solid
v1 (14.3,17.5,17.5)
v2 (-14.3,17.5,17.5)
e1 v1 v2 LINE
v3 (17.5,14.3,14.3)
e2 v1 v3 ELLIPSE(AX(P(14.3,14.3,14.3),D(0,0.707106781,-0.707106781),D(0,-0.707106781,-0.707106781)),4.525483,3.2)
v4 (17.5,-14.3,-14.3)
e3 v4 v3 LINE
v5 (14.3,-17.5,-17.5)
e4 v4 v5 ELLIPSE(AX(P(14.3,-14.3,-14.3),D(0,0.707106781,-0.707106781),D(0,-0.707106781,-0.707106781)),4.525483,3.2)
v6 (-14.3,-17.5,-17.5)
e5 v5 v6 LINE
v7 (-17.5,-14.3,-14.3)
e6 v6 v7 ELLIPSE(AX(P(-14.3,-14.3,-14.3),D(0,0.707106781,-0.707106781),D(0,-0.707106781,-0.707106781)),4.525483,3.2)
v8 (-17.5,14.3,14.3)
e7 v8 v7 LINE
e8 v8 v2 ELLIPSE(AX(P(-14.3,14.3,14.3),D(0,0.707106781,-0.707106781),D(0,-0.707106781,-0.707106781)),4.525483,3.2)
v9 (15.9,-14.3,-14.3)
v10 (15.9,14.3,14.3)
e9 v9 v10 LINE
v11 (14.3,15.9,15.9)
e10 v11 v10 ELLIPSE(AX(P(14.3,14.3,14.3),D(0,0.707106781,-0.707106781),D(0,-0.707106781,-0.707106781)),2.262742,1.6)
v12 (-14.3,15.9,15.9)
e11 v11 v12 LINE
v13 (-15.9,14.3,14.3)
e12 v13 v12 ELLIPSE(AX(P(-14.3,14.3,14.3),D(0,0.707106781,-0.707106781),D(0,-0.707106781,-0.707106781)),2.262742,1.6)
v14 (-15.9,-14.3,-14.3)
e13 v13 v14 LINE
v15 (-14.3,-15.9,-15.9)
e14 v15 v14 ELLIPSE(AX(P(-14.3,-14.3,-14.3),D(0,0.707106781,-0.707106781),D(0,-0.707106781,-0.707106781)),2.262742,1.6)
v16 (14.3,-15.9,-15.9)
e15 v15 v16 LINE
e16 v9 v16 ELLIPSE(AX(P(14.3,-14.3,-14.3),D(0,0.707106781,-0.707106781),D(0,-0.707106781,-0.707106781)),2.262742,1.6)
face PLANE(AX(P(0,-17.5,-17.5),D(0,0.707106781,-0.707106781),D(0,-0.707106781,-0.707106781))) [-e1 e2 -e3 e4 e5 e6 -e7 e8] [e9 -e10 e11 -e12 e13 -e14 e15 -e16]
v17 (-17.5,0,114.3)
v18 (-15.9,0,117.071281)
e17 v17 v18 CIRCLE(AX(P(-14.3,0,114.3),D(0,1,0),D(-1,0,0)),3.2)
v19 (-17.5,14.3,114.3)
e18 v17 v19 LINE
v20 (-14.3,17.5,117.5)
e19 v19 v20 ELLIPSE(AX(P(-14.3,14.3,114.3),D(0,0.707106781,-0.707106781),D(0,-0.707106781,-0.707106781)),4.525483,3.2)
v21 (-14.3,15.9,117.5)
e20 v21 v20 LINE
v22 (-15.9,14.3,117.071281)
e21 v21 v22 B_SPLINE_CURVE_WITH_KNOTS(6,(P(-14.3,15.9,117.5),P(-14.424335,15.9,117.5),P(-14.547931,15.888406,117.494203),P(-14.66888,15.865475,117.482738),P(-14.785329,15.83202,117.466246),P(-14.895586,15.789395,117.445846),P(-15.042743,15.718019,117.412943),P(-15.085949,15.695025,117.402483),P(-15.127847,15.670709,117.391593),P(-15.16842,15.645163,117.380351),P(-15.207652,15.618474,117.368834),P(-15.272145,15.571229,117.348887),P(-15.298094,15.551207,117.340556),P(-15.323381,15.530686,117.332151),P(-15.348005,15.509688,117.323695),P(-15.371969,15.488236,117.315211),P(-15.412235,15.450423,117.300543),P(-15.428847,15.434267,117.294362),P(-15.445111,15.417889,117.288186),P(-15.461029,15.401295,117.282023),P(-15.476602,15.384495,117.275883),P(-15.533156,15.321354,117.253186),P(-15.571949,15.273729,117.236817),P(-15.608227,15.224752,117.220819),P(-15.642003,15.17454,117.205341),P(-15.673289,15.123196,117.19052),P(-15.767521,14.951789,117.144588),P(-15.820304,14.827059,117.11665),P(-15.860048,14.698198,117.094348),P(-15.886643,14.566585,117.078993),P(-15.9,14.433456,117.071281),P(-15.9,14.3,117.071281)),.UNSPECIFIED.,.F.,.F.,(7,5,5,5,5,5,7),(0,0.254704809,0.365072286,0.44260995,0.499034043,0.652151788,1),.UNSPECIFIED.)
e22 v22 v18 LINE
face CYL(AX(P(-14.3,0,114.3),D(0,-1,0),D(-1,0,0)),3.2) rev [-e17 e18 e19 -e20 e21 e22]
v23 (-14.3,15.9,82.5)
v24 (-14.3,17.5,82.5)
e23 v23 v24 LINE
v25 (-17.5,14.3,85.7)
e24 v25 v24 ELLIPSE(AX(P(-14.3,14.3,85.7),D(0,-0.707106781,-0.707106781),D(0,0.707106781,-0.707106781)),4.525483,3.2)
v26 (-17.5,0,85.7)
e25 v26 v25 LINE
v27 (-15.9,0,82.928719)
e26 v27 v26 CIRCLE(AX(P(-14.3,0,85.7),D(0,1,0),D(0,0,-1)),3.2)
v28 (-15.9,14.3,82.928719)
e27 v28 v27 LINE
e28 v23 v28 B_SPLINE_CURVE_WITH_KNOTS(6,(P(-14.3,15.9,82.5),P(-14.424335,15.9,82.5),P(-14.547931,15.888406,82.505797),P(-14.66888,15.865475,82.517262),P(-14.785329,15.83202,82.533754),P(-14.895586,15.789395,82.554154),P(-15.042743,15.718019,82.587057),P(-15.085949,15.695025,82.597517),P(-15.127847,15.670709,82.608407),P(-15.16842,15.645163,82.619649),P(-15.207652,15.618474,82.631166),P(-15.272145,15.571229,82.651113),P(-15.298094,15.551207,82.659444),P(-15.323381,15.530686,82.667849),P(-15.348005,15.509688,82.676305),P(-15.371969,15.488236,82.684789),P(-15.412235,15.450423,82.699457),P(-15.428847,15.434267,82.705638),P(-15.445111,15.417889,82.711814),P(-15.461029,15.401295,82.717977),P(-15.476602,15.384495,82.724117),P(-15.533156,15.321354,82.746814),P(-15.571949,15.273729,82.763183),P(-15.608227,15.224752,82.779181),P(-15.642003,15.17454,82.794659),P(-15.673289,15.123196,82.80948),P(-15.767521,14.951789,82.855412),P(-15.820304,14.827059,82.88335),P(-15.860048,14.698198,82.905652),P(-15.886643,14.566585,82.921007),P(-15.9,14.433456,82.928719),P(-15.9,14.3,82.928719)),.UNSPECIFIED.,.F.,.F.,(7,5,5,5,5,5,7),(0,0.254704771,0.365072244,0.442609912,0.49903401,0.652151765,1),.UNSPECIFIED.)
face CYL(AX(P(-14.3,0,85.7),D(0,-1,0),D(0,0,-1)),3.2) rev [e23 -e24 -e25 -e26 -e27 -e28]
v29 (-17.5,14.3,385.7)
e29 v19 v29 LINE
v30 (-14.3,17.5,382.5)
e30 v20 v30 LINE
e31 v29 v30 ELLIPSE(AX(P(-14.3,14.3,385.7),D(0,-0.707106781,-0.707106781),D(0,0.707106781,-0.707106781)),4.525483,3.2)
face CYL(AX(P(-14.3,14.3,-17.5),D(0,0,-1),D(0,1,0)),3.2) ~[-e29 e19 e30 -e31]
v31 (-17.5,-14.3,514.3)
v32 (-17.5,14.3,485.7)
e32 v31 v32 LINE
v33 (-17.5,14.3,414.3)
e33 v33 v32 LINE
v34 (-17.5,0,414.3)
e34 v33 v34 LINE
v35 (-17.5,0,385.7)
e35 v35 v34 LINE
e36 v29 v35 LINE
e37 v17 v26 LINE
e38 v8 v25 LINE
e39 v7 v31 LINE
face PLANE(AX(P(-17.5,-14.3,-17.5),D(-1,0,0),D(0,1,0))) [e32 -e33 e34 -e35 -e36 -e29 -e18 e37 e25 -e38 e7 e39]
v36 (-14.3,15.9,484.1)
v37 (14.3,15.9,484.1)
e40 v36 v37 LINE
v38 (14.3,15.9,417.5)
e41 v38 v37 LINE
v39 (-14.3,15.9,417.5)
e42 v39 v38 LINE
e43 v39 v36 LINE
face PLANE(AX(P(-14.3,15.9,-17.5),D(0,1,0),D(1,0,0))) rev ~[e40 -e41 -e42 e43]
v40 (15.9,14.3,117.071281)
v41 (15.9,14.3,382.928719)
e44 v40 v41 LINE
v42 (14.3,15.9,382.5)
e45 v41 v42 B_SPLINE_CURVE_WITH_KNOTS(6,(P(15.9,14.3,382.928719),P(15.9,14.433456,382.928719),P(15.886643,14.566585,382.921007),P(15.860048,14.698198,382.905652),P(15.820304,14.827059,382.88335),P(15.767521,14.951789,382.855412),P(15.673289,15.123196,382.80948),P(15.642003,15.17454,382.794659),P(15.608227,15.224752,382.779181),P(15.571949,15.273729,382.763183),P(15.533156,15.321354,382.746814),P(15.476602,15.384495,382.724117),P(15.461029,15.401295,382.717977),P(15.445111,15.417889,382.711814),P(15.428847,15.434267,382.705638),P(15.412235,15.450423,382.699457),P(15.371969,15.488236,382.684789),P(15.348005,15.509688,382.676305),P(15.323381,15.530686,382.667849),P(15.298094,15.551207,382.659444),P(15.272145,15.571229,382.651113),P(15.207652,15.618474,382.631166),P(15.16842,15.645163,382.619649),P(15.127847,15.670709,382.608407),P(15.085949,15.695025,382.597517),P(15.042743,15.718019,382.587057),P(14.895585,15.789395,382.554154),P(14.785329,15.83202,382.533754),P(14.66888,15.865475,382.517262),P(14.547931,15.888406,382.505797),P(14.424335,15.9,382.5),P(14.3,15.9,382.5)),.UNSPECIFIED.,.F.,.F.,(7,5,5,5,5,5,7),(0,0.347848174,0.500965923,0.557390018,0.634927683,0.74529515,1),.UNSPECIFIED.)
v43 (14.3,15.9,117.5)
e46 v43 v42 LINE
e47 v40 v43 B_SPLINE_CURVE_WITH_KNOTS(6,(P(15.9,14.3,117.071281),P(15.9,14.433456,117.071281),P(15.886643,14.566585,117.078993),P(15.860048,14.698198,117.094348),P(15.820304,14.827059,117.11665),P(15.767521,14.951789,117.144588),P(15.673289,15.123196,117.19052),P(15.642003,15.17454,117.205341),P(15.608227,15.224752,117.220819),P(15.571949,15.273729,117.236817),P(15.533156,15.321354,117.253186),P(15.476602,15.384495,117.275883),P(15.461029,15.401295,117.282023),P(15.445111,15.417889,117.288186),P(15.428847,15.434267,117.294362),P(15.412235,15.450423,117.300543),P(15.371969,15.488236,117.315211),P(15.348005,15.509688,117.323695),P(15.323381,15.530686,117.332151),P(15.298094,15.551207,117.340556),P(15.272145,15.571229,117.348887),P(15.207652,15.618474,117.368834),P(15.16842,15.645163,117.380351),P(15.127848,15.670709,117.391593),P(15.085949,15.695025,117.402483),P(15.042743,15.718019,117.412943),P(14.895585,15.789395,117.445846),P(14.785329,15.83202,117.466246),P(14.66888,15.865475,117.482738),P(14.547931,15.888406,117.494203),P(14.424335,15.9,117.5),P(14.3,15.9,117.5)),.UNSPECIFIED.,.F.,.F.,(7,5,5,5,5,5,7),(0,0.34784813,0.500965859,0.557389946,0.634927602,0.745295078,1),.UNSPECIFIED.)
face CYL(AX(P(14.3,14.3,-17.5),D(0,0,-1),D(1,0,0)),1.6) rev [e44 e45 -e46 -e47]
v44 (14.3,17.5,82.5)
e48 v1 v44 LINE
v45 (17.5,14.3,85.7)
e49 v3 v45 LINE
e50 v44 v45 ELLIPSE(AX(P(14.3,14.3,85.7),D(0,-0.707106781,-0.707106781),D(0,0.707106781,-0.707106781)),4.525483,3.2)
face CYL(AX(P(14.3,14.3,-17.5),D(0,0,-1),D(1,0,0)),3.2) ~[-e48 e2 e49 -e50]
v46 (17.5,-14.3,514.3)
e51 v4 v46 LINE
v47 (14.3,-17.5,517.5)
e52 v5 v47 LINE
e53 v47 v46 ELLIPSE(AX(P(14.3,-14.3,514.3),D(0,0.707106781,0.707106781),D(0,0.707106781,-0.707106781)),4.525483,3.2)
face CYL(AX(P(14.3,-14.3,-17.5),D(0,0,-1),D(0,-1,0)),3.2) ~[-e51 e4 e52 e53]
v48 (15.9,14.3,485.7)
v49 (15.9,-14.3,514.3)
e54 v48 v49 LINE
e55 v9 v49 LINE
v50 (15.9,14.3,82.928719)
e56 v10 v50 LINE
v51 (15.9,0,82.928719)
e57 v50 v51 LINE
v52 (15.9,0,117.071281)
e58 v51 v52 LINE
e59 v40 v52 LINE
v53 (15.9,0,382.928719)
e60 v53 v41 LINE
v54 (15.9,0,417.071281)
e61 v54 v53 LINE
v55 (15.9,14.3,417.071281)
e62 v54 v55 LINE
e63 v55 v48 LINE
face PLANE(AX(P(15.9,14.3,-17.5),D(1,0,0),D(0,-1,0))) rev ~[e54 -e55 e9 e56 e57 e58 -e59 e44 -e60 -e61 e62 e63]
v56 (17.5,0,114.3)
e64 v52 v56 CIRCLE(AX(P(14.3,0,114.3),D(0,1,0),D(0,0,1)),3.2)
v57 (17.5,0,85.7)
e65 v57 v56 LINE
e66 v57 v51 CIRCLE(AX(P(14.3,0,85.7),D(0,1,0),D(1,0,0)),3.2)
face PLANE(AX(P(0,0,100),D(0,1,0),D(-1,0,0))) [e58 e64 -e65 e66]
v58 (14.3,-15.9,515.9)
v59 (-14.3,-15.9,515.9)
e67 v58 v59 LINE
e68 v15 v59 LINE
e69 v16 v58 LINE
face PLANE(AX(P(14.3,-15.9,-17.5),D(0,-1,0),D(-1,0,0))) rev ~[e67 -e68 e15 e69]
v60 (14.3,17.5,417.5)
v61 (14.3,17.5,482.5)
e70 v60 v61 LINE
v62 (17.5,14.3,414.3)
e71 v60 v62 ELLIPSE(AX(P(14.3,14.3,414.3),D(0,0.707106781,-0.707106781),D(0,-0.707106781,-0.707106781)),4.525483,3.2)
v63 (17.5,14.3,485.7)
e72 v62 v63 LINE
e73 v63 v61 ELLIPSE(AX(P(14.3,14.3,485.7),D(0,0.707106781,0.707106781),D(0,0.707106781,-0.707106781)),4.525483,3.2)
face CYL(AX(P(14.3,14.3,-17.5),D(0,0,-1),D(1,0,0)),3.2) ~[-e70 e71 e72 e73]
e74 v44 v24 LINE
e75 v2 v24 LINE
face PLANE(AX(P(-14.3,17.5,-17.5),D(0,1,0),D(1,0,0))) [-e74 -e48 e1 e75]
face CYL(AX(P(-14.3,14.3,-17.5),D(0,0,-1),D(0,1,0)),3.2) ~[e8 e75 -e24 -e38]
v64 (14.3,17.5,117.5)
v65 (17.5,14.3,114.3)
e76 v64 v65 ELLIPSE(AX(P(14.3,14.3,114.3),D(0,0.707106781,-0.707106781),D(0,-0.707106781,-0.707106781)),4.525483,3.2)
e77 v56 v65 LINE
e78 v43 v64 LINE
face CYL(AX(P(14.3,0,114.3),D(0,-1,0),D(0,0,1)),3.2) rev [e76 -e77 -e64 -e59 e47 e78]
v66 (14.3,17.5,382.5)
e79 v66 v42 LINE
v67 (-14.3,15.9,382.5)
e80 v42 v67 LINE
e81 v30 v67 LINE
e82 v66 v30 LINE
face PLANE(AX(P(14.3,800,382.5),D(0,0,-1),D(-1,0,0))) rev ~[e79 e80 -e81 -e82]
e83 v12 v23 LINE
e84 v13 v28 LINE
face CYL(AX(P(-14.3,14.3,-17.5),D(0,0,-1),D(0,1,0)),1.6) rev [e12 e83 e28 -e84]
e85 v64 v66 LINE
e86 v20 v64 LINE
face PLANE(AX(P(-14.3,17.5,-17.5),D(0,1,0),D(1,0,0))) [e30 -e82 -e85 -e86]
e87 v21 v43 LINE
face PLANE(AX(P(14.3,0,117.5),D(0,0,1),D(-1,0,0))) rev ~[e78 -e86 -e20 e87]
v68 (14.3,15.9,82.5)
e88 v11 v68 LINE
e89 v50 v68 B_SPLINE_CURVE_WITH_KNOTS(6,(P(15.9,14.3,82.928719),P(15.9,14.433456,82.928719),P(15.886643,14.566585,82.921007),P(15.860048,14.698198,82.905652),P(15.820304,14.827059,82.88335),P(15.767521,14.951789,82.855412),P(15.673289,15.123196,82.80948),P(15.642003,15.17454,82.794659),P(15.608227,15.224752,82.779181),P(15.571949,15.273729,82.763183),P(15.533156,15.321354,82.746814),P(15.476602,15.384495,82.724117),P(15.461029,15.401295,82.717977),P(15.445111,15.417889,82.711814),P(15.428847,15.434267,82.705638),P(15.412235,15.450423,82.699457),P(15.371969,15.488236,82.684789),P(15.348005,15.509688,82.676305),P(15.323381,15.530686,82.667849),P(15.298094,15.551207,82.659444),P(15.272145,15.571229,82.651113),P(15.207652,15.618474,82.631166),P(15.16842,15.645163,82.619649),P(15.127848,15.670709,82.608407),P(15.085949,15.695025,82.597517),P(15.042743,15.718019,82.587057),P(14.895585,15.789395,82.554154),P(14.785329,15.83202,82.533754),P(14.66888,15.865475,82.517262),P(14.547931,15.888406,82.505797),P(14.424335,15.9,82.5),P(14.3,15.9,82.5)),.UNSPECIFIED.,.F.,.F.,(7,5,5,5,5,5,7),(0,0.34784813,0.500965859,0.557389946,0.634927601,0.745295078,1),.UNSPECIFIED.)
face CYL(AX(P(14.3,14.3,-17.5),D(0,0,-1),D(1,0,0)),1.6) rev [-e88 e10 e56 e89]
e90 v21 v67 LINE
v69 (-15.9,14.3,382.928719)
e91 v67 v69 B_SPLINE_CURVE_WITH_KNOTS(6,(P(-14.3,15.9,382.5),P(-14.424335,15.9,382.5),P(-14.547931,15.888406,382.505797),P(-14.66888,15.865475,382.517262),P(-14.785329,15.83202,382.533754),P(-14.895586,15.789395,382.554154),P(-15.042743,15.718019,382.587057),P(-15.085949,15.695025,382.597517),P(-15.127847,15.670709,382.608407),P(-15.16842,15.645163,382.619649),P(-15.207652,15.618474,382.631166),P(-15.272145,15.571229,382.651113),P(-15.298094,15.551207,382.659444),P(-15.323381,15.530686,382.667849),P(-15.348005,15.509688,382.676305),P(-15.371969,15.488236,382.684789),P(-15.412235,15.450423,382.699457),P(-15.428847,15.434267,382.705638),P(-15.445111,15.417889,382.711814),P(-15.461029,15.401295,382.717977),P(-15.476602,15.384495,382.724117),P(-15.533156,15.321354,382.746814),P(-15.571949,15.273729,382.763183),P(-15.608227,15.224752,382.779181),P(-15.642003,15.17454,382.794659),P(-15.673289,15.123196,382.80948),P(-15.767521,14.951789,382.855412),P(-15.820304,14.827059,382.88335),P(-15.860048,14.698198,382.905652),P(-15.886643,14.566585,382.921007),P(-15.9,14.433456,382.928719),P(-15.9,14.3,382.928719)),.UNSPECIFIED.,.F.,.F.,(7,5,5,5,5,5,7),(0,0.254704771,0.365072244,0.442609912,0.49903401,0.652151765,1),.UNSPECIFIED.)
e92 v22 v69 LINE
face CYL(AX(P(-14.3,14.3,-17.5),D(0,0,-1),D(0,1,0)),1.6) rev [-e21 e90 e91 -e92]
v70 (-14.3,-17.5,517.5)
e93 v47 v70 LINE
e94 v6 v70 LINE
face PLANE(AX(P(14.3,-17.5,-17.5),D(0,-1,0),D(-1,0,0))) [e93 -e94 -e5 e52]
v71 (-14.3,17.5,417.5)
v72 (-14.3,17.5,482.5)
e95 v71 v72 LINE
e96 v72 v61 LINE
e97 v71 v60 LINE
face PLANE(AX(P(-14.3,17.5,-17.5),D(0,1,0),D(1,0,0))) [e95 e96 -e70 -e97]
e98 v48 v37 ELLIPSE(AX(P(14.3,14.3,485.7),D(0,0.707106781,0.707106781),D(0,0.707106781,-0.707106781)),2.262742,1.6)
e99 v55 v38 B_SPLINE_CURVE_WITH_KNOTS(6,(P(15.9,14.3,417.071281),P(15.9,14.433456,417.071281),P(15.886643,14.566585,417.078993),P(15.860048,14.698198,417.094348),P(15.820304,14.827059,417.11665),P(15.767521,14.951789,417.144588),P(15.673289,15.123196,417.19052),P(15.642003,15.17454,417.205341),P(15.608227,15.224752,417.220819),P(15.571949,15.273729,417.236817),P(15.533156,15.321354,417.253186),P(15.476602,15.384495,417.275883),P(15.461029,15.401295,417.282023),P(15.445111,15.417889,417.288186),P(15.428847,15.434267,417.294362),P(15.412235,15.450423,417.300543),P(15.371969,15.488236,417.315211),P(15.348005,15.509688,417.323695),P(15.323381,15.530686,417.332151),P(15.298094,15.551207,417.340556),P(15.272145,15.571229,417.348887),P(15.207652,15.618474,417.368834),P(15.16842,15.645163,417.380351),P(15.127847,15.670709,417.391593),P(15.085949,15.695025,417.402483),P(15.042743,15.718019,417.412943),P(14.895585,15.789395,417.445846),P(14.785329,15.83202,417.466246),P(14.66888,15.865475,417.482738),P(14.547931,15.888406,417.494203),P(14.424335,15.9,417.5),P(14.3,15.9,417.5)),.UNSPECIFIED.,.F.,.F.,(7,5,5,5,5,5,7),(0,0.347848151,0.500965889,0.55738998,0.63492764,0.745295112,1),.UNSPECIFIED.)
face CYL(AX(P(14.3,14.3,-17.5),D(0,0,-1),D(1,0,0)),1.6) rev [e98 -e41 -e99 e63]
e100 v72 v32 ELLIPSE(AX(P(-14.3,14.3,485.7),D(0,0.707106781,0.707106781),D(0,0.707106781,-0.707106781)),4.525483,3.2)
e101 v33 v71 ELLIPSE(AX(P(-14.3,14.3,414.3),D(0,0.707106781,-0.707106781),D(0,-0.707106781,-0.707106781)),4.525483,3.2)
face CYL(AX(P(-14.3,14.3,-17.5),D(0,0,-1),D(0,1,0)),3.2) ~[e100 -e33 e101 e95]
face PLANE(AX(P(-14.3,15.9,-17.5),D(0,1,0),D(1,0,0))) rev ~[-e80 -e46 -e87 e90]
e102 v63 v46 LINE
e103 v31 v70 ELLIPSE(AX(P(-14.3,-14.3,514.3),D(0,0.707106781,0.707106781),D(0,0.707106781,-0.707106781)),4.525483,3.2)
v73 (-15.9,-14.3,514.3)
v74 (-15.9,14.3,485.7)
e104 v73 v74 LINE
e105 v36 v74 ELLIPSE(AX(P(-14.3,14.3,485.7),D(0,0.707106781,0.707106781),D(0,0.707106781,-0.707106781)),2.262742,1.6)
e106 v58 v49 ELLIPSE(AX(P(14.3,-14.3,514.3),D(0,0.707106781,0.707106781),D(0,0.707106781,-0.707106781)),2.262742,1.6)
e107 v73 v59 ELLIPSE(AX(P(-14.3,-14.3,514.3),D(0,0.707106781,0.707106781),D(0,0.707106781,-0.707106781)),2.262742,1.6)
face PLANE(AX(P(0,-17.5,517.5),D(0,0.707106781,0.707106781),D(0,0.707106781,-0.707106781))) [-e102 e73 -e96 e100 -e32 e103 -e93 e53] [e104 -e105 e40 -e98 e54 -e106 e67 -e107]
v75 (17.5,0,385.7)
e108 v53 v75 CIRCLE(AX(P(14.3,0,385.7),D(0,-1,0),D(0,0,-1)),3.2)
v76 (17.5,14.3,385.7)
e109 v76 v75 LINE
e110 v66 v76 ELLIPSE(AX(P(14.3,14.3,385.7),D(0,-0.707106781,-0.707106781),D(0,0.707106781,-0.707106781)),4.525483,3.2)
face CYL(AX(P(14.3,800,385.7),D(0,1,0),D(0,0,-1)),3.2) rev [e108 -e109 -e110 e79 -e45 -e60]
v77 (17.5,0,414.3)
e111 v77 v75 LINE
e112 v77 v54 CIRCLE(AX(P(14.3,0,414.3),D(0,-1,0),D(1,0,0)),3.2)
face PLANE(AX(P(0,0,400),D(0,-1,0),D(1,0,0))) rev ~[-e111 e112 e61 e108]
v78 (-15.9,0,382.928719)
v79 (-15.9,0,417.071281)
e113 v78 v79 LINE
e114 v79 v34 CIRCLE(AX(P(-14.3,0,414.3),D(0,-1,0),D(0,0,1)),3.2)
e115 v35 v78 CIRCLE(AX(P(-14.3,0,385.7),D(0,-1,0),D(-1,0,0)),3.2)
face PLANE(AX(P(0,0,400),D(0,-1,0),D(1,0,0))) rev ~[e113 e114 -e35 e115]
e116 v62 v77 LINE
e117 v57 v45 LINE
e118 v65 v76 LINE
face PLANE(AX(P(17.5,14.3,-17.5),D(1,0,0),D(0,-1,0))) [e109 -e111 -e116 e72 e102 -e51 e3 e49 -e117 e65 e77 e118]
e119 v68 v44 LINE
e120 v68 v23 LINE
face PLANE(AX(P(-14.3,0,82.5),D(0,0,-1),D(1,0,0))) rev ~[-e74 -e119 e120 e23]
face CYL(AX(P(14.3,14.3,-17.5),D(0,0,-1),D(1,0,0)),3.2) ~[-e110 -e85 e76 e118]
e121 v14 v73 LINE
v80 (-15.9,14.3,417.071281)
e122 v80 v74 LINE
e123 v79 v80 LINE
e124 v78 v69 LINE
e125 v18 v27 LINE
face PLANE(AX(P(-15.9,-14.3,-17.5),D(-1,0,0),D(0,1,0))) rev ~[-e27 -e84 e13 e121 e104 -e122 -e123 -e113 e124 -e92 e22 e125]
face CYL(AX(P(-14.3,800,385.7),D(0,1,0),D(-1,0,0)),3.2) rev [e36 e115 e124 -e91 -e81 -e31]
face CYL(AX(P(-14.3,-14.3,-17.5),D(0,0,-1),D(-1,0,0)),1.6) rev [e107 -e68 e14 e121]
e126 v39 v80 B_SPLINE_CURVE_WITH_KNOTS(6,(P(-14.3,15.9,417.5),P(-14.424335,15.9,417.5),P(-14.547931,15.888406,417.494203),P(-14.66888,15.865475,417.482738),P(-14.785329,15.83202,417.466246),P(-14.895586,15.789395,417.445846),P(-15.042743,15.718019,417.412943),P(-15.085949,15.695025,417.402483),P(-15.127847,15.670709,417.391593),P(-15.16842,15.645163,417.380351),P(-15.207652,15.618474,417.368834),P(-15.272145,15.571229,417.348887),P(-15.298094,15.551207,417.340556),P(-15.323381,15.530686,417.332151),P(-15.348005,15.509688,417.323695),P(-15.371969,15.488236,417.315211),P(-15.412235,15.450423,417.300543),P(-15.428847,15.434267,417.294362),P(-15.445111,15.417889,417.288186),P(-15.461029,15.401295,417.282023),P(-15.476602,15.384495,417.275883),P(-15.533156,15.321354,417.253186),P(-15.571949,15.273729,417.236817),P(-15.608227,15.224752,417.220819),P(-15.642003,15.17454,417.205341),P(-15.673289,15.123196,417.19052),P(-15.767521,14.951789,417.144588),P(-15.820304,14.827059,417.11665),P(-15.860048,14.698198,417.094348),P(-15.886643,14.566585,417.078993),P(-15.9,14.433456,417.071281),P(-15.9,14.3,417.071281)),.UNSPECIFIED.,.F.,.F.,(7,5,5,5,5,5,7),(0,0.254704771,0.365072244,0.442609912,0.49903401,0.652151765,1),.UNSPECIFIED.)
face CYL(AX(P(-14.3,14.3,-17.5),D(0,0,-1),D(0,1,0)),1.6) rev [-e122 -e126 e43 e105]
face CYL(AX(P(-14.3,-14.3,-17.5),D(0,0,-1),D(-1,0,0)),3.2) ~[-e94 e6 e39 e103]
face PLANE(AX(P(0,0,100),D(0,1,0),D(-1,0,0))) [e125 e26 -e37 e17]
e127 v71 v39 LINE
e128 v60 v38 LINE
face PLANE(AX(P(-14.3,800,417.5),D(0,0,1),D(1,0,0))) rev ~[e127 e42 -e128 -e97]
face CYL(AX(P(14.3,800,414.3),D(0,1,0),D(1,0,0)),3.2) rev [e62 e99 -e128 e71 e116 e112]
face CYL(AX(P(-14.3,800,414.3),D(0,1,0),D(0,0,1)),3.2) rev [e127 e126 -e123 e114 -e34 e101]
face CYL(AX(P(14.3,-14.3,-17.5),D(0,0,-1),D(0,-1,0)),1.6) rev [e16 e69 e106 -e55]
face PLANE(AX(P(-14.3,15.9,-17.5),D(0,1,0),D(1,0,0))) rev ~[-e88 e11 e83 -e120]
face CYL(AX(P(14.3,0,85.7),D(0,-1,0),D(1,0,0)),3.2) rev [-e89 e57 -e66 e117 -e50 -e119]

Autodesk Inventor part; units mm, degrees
ref_plane "Start plane" through (0, 0, -17.5) normal (0, 0, 1) x (1, 0, 0)
ref_plane "End plane" through (0, 0, 517.5) normal (0, 0, 1) x (1, 0, 0)
sketch "Sketch" plane through (0, 0, 0) normal (0, 0, 1) x (1, 0, 0)
  line L0 (-17.5, -14.3) -> (-17.5, 14.3)
  line L1 (-14.3, 17.5) -> (14.3, 17.5)
  line L2 (17.5, 14.3) -> (17.5, -14.3)
  line L3 (14.3, -17.5) -> (-14.3, -17.5)
  arc A0 (-17.5, -14.3) -> (-14.3, -17.5) centre (-14.3, -14.3) ccw
  arc A1 (-14.3, 17.5) -> (-17.5, 14.3) centre (-14.3, 14.3) ccw
  arc A2 (17.5, 14.3) -> (14.3, 17.5) centre (14.3, 14.3) ccw
  arc A3 (14.3, -17.5) -> (17.5, -14.3) centre (14.3, -14.3) ccw
  arc A4 (-14.3, 15.9) -> (-15.9, 14.3) centre (-14.3, 14.3) ccw
  line L4 (-14.3, 15.9) -> (14.3, 15.9)
  arc A5 (15.9, 14.3) -> (14.3, 15.9) centre (14.3, 14.3) ccw
  line L5 (15.9, 14.3) -> (15.9, -14.3)
  arc A6 (14.3, -15.9) -> (15.9, -14.3) centre (14.3, -14.3) ccw
  line L6 (14.3, -15.9) -> (-14.3, -15.9)
  arc A7 (-15.9, -14.3) -> (-14.3, -15.9) centre (-14.3, -14.3) ccw
  line L7 (-15.9, -14.3) -> (-15.9, 14.3)
  line L8 (0, 25.4278) -> (0, -25.4278) construction
  line L9 (-25.4278, 0) -> (25.4278, 0) construction
  dimension "d7" = 3.2
  dimension "d10" = 35
  dimension "d11" = 35
  dimension "d12" = 1.6
  dimension "d15" = 17.5
  dimension "d16" = 17.5
extrude "Body" add sketch "Sketch" along normal up to surface (535 mm away) from surface at -17.5
sketch "Sketch3" plane through (0, 0, 0) normal (0, 0, 1) x (1, 0, 0)
  line L0 (0, 0) -> (10, 0)
ref_plane "Work Plane3" through (0, 0, 0) normal (0, -1, 0) x (1, 0, 0)
sketch "Sketch4" plane through (0, 0, 0) normal (0, -1, 0) x (1, 0, 0)
  line L0 (-2, -17.5) -> (12, -17.5)
  line L1 (-2, 517.5) -> (12, 517.5)
  dimension "d18" = 535
ref_plane "Work Plane4" through (107.5, 0, -17.5) normal (0, 0, -1) x (-1, 0, 0)
split "Split1" plane through (107.5, 0, -17.5) removes the side toward (0, 0, -1)
ref_plane "Work Plane5" through (0, -17.5, 517.5) normal (0, 0.7071, 0.7071) x (1, 0, 0)
split "Split2" plane through (0, -17.5, 517.5) removes the side toward (0, 0.7071, 0.7071)
ref_plane "Work Plane7" through (0, 800, 400) normal (0, -1, 0) x (1, 0, 0)
ref_plane "Work Plane8" through (0, 0, 400) normal (0, -1, 0) x (1, 0, 0)
ref_plane "Work Plane9" through (0, 400, 400) normal (0, -1, 0) x (1, 0, 0)
ref_plane "Work Plane10" through (0, 0, 100) normal (0, 1, 0) x (-1, 0, 0)
ref_plane "Work Plane11" through (0, 800, 100) normal (0, 1, 0) x (-1, 0, 0)
ref_plane "Work Plane12" through (0, 400, 100) normal (0, 1, 0) x (-1, 0, 0)
sketch "Sketch5" plane through (0, 400, 400) normal (0, -1, 0) x (1, 0, 0)
  arc A0 (-17.5, -14.3) -> (-14.3, -17.5) centre (-14.3, -14.3) ccw
  line L0 (-17.5, -14.3) -> (-17.5, 14.3)
  arc A1 (-14.3, 17.5) -> (-17.5, 14.3) centre (-14.3, 14.3) ccw
  line L1 (-14.3, 17.5) -> (14.3, 17.5)
  arc A2 (17.5, 14.3) -> (14.3, 17.5) centre (14.3, 14.3) ccw
  line L2 (17.5, 14.3) -> (17.5, -14.3)
  arc A3 (14.3, -17.5) -> (17.5, -14.3) centre (14.3, -14.3) ccw
  line L3 (14.3, -17.5) -> (-14.3, -17.5)
  arc A4 (-14.3, 15.9) -> (-15.9, 14.3) centre (-14.3, 14.3) ccw
  line L4 (-14.3, 15.9) -> (14.3, 15.9)
  arc A5 (15.9, 14.3) -> (14.3, 15.9) centre (14.3, 14.3) ccw
  line L5 (15.9, 14.3) -> (15.9, -14.3)
  arc A6 (14.3, -15.9) -> (15.9, -14.3) centre (14.3, -14.3) ccw
  line L6 (14.3, -15.9) -> (-14.3, -15.9)
  arc A7 (-15.9, -14.3) -> (-14.3, -15.9) centre (-14.3, -14.3) ccw
  line L7 (-15.9, -14.3) -> (-15.9, 14.3)
extrude "Extrusion2" cut sketch "Sketch5" along normal up to surface (800 mm away) from surface at -400 contours L0 A1 L1 A2 L2 A3 L3 A0 | L4 A5 L5 A6 L6 A7 L7 A4
sketch "Sketch6" plane through (0, 400, 100) normal (0, 1, 0) x (-1, 0, 0)
  arc A0 (-17.5, -14.3) -> (-14.3, -17.5) centre (-14.3, -14.3) ccw
  line L0 (-17.5, -14.3) -> (-17.5, 14.3)
  arc A1 (-14.3, 17.5) -> (-17.5, 14.3) centre (-14.3, 14.3) ccw
  line L1 (-14.3, 17.5) -> (14.3, 17.5)
  arc A2 (17.5, 14.3) -> (14.3, 17.5) centre (14.3, 14.3) ccw
  line L2 (17.5, 14.3) -> (17.5, -14.3)
  arc A3 (14.3, -17.5) -> (17.5, -14.3) centre (14.3, -14.3) ccw
  line L3 (14.3, -17.5) -> (-14.3, -17.5)
  arc A4 (-14.3, 15.9) -> (-15.9, 14.3) centre (-14.3, 14.3) ccw
  line L4 (-14.3, 15.9) -> (14.3, 15.9)
  arc A5 (15.9, 14.3) -> (14.3, 15.9) centre (14.3, 14.3) ccw
  line L5 (15.9, 14.3) -> (15.9, -14.3)
  arc A6 (14.3, -15.9) -> (15.9, -14.3) centre (14.3, -14.3) ccw
  line L6 (14.3, -15.9) -> (-14.3, -15.9)
  arc A7 (-15.9, -14.3) -> (-14.3, -15.9) centre (-14.3, -14.3) ccw
  line L7 (-15.9, -14.3) -> (-15.9, 14.3)
extrude "Extrusion3" cut sketch "Sketch6" along normal up to surface (800 mm away) from surface at -400 contours L0 A1 L1 A2 L2 A3 L3 A0 | L4 A5 L5 A6 L6 A7 L7 A4
ref_plane "Work Plane13" through (0, -17.5, -17.5) normal (0, 0.7071, -0.7071) x (1, 0, 0)
split "Split4" plane through (0, -17.5, -17.5) removes the side toward (0, 0.7071, -0.7071)
equation "\"d7\" = G_IR"
equation "\"d10\" = G_H"
equation "\"d11\" = G_W"
equation "\"d12\" = G_T"
equation "\"d15\" = 0.5 * d10"
equation "\"d16\" = 0.5 * d11"
equation "\"d3\" = G_L"
equation "\"G_W\" = 35"
equation "\"G_H\" = 35"
equation "\"G_T\" = 1.6"
equation "\"G_IR\" = 3.2"
equation "\"G_L\" = d18"
equation "\"G_OFFSET_START\" = 17.5"
equation "\"G_OFFSET_END\" = 17.5"
equation "\"d13\" = -G_OFFSET_START"
equation "\"d14\" = G_OFFSET_END + B_L"
equation "\"B_L\" = 500"
properties part number "AS 1163 - C350L0 35x35x1.6 SHS - 535" material "Steel, Mild"
